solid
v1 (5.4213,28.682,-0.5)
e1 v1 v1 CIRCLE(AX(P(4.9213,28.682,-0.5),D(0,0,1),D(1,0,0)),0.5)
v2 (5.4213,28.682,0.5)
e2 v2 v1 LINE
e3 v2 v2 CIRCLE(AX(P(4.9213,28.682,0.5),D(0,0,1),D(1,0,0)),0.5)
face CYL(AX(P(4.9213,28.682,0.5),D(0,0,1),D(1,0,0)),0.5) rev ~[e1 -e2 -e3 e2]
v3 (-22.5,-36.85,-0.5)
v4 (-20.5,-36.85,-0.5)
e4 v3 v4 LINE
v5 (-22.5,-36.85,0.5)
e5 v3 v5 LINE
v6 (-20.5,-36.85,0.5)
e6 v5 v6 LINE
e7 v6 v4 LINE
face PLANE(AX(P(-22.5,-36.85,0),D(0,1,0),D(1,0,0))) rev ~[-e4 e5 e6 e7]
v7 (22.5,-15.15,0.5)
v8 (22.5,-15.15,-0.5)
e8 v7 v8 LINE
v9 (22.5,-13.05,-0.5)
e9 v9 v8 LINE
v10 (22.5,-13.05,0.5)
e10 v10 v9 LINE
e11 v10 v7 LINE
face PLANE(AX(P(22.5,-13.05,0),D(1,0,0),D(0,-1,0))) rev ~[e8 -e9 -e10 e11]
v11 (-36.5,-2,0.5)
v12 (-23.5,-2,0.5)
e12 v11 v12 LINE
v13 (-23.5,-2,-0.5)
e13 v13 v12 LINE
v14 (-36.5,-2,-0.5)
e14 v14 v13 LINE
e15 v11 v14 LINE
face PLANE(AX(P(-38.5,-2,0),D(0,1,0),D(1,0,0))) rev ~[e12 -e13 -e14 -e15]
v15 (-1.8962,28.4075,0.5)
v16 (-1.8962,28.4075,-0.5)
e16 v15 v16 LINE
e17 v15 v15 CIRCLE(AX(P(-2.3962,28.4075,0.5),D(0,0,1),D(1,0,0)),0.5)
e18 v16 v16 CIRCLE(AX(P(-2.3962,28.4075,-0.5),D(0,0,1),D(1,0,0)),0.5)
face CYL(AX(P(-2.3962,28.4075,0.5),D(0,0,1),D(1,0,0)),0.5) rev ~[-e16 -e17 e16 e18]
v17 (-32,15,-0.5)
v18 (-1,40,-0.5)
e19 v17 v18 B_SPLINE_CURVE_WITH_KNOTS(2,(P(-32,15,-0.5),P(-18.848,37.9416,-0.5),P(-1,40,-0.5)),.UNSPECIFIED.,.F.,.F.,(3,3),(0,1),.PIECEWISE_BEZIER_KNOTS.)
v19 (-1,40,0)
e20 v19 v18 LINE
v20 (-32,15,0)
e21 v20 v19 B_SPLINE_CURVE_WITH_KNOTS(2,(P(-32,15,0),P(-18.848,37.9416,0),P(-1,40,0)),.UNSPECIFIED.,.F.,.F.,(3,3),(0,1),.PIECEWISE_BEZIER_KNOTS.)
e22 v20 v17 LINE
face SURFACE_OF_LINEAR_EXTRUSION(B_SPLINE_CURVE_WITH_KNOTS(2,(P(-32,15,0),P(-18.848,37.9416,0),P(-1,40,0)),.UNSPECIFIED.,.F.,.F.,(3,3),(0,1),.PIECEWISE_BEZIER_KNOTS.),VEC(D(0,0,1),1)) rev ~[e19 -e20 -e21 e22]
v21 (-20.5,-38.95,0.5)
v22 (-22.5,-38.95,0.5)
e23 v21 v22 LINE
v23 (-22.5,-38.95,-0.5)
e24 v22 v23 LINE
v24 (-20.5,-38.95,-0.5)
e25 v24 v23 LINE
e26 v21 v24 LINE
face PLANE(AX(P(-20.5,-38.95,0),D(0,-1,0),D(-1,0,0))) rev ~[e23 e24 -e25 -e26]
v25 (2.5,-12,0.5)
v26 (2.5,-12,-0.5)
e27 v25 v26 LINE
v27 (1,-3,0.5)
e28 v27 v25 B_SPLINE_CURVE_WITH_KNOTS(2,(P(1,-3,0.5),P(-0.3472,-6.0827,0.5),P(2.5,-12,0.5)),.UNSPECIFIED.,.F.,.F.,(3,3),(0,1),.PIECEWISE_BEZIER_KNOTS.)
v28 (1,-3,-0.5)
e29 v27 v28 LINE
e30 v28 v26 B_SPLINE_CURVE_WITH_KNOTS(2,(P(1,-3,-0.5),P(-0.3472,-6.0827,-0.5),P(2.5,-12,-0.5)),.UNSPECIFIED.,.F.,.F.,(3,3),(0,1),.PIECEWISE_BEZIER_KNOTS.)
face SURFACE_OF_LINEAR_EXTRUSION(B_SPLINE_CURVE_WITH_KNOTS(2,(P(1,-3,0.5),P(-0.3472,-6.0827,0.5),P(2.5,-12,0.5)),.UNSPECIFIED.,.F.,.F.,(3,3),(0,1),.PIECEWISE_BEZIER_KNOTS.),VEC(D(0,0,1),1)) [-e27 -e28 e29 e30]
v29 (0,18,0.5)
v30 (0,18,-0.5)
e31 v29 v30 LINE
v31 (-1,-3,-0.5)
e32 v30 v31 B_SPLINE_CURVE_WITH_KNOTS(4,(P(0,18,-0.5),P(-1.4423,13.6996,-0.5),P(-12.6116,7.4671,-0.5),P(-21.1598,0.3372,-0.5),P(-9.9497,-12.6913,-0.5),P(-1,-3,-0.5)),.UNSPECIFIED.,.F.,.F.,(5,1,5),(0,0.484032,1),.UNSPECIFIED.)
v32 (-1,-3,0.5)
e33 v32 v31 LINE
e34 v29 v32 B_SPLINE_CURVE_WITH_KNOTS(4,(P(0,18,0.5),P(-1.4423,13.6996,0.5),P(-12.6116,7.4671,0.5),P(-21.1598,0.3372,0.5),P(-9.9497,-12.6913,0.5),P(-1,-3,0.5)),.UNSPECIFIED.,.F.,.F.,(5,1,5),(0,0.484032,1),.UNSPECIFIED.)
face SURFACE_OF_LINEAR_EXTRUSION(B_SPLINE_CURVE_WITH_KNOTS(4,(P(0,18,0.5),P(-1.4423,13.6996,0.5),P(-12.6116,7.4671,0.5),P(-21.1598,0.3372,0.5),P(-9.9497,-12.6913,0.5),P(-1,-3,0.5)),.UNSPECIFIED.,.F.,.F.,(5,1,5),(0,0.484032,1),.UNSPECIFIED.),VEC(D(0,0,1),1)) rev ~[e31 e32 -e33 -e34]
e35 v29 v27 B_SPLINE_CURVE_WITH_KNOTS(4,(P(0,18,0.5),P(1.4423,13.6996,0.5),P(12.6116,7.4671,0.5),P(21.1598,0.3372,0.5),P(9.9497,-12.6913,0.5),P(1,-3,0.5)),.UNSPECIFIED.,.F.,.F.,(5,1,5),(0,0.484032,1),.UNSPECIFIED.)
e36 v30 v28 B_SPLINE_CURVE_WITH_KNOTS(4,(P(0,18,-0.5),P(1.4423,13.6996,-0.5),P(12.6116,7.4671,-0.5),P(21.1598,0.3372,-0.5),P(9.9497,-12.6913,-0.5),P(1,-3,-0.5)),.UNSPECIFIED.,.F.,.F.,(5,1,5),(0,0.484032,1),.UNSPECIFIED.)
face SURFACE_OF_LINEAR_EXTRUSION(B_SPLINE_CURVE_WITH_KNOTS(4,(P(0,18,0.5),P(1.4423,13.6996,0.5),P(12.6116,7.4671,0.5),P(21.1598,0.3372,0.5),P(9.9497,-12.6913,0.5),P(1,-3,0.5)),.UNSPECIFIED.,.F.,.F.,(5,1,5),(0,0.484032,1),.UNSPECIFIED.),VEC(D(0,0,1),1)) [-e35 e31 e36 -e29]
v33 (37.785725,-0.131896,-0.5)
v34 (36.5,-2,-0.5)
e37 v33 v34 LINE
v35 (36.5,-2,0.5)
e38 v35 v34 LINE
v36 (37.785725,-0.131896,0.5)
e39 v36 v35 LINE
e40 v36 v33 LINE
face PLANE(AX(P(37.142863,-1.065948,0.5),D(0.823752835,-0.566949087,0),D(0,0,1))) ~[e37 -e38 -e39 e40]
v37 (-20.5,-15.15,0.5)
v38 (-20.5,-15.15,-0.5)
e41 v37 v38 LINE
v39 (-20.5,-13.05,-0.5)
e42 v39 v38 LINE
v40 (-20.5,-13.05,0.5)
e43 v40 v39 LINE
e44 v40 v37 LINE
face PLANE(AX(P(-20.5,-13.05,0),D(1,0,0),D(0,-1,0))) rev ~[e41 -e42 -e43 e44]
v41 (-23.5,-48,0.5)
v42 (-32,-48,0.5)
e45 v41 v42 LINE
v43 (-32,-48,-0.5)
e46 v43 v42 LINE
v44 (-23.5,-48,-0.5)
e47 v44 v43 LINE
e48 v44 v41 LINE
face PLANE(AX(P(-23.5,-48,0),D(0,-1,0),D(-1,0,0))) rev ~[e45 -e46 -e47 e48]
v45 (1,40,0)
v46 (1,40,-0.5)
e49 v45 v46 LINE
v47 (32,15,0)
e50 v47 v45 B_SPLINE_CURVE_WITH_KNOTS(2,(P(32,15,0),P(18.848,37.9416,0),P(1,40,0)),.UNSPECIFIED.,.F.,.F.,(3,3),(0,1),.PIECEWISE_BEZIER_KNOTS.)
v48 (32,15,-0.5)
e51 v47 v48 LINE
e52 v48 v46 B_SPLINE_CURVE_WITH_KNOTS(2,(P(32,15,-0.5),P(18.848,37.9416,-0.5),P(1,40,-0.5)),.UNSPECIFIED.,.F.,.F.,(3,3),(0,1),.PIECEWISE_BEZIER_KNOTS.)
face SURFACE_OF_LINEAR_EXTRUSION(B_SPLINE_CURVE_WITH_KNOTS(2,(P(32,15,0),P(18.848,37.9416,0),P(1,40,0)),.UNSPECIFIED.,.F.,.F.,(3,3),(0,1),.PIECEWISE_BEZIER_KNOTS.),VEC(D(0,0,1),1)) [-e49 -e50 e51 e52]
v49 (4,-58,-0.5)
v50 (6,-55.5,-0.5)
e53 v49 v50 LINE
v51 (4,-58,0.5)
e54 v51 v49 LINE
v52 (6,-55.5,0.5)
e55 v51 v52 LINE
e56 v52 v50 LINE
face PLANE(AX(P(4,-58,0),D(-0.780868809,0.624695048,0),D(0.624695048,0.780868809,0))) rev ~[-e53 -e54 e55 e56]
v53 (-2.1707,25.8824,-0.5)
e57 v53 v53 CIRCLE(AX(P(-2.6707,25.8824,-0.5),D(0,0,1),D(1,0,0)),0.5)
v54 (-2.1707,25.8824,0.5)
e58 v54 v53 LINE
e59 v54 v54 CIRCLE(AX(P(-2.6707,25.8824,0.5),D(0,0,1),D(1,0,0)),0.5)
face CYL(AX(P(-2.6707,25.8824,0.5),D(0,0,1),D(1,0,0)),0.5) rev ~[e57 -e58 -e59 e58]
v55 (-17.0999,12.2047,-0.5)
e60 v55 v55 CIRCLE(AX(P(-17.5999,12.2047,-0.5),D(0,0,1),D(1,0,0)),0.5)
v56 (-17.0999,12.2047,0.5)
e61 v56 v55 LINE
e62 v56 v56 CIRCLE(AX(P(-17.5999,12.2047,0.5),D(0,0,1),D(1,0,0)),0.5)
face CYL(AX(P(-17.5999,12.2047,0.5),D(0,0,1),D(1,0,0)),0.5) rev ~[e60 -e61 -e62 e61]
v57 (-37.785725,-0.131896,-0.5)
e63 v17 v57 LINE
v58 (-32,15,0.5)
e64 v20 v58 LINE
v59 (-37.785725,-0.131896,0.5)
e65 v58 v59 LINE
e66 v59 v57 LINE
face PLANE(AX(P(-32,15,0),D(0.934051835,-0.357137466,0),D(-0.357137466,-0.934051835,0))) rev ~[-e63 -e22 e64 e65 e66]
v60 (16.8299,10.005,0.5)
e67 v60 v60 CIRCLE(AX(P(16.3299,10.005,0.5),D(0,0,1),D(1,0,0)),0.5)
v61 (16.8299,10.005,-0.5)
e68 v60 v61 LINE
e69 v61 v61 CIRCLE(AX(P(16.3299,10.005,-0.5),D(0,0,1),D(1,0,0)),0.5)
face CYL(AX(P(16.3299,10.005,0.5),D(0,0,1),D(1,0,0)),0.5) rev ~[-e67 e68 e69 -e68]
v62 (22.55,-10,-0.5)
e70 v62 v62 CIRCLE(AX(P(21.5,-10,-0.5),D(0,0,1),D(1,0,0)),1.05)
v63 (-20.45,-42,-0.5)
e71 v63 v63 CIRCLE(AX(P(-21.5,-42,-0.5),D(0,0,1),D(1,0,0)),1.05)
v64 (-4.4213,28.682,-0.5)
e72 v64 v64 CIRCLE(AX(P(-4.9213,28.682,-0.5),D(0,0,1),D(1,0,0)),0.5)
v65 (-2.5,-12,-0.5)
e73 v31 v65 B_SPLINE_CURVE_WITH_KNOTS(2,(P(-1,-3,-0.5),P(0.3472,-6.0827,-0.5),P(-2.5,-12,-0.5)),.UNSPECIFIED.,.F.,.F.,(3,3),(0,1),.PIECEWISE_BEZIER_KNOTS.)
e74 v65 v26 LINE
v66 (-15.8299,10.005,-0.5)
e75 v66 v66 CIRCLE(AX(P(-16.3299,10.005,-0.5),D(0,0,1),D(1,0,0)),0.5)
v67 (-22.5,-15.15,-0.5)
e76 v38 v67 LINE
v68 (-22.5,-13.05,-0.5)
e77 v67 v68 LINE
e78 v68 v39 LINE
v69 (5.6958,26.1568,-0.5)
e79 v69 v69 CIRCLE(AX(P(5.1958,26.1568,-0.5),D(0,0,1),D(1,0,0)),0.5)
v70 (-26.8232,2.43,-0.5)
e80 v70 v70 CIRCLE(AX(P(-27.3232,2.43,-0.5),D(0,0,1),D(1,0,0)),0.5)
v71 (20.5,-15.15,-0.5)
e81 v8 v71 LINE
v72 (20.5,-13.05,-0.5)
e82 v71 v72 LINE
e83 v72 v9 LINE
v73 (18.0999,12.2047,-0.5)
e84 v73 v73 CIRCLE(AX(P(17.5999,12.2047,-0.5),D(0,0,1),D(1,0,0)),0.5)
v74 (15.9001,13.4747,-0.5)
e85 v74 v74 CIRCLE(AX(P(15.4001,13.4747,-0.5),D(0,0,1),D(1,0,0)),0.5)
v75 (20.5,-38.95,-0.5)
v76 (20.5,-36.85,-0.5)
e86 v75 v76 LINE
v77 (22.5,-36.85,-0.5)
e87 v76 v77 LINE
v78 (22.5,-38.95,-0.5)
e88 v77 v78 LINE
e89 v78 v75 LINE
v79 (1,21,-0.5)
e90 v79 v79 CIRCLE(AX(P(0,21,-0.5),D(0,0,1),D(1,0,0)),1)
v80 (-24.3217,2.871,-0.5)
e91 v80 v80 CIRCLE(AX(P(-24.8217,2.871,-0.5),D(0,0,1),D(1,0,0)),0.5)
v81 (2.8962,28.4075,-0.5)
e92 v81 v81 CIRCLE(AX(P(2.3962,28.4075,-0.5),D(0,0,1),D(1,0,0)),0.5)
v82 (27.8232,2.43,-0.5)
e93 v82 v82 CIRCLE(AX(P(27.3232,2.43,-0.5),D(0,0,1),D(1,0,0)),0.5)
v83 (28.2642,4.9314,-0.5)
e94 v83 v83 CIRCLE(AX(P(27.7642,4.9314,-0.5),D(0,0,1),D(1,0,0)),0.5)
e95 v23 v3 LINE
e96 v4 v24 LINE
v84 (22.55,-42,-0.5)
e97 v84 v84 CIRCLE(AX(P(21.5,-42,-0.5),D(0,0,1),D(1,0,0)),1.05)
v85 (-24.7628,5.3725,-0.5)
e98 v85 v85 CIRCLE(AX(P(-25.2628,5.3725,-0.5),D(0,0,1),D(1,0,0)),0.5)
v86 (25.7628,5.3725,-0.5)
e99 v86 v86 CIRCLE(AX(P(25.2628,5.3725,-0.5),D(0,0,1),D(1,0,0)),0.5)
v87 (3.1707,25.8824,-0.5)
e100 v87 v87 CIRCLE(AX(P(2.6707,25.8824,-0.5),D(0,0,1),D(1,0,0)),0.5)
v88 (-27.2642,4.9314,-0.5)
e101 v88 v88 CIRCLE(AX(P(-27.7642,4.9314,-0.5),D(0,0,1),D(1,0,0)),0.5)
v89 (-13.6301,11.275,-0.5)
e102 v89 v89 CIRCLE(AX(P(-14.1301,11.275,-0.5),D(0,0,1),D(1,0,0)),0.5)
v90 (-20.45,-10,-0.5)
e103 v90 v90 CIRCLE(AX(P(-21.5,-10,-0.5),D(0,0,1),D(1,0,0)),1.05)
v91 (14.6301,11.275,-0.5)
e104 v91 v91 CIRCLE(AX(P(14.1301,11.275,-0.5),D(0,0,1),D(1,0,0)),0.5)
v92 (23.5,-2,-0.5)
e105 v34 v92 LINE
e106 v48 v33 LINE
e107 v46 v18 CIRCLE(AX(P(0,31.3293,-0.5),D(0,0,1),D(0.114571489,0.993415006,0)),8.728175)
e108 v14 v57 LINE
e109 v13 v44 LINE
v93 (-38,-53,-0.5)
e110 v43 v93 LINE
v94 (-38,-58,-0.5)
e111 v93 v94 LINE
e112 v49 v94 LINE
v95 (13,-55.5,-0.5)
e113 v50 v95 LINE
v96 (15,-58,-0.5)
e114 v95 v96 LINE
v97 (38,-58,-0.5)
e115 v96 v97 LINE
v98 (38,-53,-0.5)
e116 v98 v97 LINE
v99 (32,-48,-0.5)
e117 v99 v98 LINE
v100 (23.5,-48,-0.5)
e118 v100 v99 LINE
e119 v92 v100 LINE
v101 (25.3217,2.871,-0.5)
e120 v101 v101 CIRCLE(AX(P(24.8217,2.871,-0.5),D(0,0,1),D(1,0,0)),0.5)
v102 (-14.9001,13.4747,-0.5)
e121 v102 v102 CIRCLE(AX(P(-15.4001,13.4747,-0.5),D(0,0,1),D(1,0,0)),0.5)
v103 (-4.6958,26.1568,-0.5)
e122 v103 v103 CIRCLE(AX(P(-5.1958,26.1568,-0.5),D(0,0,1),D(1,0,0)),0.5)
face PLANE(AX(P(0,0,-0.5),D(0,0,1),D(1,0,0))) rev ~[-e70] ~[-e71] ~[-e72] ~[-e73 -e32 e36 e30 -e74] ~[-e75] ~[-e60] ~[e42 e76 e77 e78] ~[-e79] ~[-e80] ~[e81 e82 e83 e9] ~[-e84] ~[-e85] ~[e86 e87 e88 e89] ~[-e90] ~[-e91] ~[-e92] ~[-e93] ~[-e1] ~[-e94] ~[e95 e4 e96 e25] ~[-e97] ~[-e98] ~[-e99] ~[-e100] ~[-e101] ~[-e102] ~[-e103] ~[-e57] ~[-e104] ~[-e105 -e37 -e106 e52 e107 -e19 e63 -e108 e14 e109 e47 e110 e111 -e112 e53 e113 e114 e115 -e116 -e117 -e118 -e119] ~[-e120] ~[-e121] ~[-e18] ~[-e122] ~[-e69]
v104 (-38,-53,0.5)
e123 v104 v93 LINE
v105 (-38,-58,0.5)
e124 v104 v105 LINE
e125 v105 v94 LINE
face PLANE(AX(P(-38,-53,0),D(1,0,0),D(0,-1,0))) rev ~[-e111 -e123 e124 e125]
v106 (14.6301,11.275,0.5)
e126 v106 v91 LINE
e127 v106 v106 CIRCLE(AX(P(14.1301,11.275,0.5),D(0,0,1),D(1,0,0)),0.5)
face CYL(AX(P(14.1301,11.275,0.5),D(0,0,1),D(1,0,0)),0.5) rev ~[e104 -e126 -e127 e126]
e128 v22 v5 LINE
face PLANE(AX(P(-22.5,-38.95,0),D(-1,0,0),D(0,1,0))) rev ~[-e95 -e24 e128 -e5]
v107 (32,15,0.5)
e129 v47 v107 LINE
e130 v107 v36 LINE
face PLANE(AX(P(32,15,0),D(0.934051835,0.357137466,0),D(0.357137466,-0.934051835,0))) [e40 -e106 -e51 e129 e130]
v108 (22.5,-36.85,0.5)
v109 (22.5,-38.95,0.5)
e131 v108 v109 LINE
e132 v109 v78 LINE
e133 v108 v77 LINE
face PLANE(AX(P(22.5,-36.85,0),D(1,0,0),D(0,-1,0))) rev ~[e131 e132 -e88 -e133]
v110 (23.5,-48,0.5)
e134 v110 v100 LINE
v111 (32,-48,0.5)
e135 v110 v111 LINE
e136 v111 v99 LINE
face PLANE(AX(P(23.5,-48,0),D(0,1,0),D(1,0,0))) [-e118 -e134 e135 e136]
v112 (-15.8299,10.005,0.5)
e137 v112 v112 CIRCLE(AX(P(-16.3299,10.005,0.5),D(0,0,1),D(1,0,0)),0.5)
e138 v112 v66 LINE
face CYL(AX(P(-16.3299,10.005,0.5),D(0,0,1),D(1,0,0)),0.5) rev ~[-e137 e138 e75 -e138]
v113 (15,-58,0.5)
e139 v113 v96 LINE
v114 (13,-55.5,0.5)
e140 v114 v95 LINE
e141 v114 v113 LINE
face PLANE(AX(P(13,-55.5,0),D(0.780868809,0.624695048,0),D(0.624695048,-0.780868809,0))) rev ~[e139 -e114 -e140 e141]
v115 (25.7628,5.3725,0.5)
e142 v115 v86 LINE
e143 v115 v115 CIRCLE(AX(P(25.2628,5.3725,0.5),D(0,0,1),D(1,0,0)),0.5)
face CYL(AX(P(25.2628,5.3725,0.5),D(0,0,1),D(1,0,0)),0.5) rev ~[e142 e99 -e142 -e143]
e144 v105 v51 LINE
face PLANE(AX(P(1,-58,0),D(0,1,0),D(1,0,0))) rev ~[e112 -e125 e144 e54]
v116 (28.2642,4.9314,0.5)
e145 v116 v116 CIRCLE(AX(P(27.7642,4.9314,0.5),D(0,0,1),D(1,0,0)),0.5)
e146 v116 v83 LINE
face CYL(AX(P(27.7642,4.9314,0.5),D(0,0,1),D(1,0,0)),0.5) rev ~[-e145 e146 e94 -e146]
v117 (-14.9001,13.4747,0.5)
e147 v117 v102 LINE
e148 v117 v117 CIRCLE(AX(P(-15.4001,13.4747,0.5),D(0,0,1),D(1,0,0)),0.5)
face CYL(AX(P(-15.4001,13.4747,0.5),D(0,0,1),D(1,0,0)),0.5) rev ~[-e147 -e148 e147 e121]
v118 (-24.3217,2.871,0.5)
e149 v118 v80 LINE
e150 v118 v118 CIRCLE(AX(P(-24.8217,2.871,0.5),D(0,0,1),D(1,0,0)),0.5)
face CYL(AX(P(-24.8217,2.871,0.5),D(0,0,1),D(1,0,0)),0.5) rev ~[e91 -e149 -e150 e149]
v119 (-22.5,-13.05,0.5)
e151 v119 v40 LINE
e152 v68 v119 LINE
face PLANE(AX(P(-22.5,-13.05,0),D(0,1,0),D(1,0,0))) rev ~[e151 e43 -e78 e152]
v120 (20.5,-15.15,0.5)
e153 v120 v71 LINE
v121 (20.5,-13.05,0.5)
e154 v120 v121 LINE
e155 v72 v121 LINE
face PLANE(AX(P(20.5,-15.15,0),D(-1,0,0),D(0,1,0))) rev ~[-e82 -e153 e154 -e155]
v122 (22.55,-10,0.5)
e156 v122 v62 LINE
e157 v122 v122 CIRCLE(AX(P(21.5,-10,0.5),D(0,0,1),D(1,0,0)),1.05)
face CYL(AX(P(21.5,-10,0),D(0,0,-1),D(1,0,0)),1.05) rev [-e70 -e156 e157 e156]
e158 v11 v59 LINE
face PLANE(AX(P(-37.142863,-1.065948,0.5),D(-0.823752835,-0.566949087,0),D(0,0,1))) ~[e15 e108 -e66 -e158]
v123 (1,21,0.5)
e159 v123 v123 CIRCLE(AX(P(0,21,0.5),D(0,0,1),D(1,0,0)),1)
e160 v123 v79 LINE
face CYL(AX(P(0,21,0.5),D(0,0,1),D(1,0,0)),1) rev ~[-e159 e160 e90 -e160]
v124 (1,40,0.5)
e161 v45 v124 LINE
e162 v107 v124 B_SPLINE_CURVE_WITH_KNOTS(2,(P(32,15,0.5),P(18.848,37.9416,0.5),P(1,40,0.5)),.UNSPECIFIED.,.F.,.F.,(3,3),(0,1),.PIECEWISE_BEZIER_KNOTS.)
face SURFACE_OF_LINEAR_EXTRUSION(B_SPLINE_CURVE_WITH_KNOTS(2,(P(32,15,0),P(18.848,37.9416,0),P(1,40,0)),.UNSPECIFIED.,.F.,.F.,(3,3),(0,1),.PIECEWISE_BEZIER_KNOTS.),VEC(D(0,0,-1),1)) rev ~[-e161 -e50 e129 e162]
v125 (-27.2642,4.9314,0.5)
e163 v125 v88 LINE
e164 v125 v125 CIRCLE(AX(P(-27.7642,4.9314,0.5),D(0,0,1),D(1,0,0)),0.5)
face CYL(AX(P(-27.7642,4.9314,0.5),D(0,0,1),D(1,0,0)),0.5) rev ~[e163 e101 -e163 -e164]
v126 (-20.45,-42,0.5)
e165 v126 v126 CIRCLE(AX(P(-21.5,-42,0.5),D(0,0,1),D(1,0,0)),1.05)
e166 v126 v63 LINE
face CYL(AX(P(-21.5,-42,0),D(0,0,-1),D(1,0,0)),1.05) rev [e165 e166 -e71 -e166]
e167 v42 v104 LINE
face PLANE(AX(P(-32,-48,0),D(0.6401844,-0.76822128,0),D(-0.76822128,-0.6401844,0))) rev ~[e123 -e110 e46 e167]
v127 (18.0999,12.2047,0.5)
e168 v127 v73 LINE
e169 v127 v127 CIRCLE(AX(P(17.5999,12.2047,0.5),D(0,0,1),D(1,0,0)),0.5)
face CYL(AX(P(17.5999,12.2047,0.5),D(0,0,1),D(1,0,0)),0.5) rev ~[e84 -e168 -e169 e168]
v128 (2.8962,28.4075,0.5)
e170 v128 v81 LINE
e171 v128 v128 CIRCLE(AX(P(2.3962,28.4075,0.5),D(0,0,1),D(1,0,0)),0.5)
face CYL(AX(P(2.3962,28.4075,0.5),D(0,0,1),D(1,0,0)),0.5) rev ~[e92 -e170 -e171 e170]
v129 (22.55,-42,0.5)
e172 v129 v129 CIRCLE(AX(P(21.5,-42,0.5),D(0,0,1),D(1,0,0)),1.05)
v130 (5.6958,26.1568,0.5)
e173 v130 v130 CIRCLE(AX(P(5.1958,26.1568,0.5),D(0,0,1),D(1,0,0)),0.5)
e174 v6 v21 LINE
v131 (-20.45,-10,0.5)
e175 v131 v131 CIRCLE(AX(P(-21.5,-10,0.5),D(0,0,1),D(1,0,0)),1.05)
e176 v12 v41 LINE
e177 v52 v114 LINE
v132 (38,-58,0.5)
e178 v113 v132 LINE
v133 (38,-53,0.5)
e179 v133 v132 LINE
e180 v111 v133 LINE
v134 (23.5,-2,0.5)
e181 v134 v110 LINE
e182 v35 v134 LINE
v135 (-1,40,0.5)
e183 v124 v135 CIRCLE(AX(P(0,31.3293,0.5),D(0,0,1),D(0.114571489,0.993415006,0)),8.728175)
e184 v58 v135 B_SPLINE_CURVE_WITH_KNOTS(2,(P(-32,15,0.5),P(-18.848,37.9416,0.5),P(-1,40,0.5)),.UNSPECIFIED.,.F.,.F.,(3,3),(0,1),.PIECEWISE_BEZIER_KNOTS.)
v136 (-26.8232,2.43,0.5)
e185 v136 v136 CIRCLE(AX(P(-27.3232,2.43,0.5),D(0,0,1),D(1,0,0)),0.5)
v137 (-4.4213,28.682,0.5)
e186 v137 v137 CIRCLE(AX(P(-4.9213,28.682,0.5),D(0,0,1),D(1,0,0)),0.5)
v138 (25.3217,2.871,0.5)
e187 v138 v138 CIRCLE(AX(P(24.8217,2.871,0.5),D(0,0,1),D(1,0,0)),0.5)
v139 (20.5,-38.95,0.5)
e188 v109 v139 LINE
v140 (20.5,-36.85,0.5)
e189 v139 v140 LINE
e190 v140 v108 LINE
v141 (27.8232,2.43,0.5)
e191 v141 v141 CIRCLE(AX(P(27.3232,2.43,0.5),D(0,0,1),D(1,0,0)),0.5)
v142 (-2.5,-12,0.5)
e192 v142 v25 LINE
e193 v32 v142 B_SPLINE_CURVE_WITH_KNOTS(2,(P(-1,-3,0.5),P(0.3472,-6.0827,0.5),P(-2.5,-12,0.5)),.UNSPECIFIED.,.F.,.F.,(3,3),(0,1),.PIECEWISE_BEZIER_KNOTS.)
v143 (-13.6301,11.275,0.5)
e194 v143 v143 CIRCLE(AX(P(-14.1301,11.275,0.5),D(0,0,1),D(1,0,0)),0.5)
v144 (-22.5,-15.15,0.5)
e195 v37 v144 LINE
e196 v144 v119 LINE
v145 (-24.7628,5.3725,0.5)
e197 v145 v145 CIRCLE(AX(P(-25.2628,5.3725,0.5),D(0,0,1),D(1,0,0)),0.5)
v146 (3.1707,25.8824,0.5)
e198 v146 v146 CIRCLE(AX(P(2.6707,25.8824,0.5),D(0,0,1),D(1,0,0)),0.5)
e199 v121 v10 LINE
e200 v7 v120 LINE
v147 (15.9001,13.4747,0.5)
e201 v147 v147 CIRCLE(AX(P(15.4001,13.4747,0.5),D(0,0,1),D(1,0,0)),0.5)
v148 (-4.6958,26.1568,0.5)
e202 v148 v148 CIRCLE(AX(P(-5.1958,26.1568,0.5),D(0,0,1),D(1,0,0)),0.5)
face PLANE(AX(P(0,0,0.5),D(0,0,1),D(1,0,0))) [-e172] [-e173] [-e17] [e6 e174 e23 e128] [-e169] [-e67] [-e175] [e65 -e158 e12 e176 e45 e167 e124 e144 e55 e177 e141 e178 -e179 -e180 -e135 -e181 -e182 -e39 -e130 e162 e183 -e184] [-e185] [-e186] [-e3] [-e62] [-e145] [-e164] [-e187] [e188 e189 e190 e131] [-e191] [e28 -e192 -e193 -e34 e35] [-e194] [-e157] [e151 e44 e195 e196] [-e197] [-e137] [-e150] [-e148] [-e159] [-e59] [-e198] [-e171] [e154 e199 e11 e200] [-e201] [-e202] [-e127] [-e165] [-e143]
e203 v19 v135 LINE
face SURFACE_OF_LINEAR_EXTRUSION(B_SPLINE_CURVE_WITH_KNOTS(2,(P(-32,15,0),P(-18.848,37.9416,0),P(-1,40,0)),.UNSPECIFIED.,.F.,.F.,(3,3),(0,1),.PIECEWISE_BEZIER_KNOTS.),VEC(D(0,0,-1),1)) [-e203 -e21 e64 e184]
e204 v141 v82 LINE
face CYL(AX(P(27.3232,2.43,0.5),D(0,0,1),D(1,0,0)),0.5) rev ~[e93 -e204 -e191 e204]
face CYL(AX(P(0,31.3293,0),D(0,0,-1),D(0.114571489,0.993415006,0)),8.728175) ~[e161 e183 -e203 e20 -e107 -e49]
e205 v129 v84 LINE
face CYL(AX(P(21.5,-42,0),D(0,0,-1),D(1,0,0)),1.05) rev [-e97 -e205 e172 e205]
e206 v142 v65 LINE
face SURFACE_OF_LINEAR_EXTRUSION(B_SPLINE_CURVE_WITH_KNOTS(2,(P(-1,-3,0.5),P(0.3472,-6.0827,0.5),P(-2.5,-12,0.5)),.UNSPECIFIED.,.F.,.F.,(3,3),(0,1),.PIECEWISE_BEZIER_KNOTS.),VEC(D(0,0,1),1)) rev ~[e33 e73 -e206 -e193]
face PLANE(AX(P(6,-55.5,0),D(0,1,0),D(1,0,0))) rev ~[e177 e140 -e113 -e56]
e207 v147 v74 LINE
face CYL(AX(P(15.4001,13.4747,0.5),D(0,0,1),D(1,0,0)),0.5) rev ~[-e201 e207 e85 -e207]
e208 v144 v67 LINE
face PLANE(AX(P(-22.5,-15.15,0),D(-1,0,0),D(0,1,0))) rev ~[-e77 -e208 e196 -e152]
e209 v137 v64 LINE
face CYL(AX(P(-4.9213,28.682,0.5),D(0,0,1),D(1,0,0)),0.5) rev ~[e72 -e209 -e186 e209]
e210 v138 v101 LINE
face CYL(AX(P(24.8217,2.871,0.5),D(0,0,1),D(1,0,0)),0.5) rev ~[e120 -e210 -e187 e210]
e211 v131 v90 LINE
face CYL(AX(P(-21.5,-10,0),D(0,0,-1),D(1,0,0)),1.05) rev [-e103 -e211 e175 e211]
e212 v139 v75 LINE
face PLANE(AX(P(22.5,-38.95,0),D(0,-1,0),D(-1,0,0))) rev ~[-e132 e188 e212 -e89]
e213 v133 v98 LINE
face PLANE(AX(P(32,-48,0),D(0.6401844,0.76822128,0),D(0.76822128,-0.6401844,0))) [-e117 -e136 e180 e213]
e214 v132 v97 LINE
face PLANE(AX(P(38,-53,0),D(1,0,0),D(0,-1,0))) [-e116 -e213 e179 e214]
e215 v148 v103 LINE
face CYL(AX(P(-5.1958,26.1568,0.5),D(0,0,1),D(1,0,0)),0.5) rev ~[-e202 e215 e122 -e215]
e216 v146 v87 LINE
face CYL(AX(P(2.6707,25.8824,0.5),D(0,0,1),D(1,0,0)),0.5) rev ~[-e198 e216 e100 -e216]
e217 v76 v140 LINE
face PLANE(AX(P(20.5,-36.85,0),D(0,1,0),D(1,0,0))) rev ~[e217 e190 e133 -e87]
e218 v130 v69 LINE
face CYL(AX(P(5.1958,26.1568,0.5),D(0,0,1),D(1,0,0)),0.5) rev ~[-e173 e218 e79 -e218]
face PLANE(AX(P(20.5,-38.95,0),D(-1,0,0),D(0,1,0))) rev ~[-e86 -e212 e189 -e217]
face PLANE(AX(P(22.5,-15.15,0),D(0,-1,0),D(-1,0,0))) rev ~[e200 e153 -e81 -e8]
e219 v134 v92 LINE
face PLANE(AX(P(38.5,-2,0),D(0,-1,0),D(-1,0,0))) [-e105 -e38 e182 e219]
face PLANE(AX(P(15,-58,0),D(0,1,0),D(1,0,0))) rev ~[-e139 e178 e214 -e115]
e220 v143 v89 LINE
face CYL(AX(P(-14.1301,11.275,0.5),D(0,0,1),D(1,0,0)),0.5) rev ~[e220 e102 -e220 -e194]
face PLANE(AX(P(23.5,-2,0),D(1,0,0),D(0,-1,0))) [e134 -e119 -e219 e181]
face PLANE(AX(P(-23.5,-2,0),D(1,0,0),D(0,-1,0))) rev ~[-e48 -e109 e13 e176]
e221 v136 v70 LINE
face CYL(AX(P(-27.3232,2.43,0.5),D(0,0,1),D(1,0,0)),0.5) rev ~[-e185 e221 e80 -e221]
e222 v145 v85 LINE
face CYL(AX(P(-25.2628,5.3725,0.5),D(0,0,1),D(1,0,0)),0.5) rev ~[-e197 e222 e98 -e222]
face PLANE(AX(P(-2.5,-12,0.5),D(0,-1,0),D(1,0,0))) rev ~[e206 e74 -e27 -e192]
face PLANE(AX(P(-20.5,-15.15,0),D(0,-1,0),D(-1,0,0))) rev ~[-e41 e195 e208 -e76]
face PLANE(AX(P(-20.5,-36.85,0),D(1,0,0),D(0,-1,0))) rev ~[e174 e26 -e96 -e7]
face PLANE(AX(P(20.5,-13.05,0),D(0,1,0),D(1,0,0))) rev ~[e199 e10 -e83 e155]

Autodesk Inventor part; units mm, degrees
ref_plane "YZ Plane" through (0, 0, 0) normal (1, 0, 0) x (0, 1, 0)
sketch "shitaita" plane through (0, 0, 0) normal (0, 0, 1) x (1, 0, 0)
  line L0 (-23.5, -2) -> (-23.5, -48)
  line L1 (23.5, -2) -> (23.5, -48)
  line L2 (-23.5, -48) -> (-32, -48)
  line L3 (-32, -48) -> (-38, -53)
  line L4 (-38, -53) -> (-38, -58)
  spline S0 degree 2 poles (-32, 15) (-18.848, 37.9416) (-1, 40) knots 0 0 0 1 1 1
  spline S1 degree 2 poles (32, 15) (18.848, 37.9416) (1, 40) knots 0 0 0 1 1 1
  line L5 (23.5, -48) -> (32, -48)
  line L6 (32, -48) -> (38, -53)
  line L7 (38, -53) -> (38, -58)
  line L8 (-1, -58) -> (0, -58)
  line L9 (1, -58) -> (0, -58)
  circle A0 centre (-21.5, -10) radius 1.05
  circle A1 centre (-21.5, -42) radius 1.05
  circle A2 centre (21.5, -10) radius 1.05
  circle A3 centre (21.5, -42) radius 1.05
  line L10 (-19.6, -21) -> (-2.4, -21) construction
  line L11 (-2.4, -21) -> (-2.4, -31) construction
  line L12 (-2.4, -31) -> (-19.6, -31) construction
  line L13 (-19.6, -31) -> (-19.6, -21) construction
  line L14 (2.4, -21) -> (19.6, -21) construction
  line L15 (19.6, -21) -> (19.6, -31) construction
  line L16 (19.6, -31) -> (2.4, -31) construction
  line L17 (2.4, -31) -> (2.4, -21) construction
  line L18 (-22.5, -13.05) -> (-20.5, -13.05)
  line L19 (-20.5, -13.05) -> (-20.5, -15.15)
  line L20 (-20.5, -15.15) -> (-22.5, -15.15)
  line L21 (-22.5, -15.15) -> (-22.5, -13.05)
  line L22 (20.5, -13.05) -> (22.5, -13.05)
  line L23 (22.5, -13.05) -> (22.5, -15.15)
  line L24 (22.5, -15.15) -> (20.5, -15.15)
  line L25 (20.5, -15.15) -> (20.5, -13.05)
  line L26 (20.5, -36.85) -> (22.5, -36.85)
  line L27 (22.5, -36.85) -> (22.5, -38.95)
  line L28 (22.5, -38.95) -> (20.5, -38.95)
  line L29 (20.5, -38.95) -> (20.5, -36.85)
  line L30 (-22.5, -36.85) -> (-20.5, -36.85)
  line L31 (-20.5, -36.85) -> (-20.5, -38.95)
  line L32 (-20.5, -38.95) -> (-22.5, -38.95)
  line L33 (-22.5, -38.95) -> (-22.5, -36.85)
  line L34 (1, -58) -> (4, -58)
  line L35 (4, -58) -> (6, -55.5)
  line L36 (6, -55.5) -> (13, -55.5)
  line L37 (13, -55.5) -> (15, -58)
  line L38 (15, -58) -> (38, -58)
  line L39 (-1, -58) -> (-15, -58)
  line L40 (-38, -58) -> (-24, -58)
  line L41 (-24, -58) -> (-22, -58)
  line L42 (-22, -58) -> (-17, -58)
  line L43 (-17, -58) -> (-15, -58)
  arc A4 (1, 40) -> (-1, 40) centre (0, 31.3293) ccw
  line L44 (-32, 15) -> (-38.5, -2)
  line L45 (-38.5, -2) -> (-23.5, -2)
  line L46 (32, 15) -> (38.5, -2)
  line L47 (38.5, -2) -> (23.5, -2)
  point P0 (0, 0)
  point P1 (-16, 34)
  point P2 (16, 34)
  dimension "d35" = 46
  dimension "d37" = 23.5
  dimension "d38" = 23.5
  dimension "d51" = 32
  dimension "d53" = 32
  dimension "d59" = 38
  dimension "d61" = 5
  dimension "d65" = 6
  dimension "d66" = 16
  dimension "d67" = 15
  dimension "d68" = 19
  dimension "d69" = 6
  dimension "d70" = 16
  dimension "d71" = 15
  dimension "d72" = 6
  dimension "d73" = 19
  dimension "d81" = 6
  dimension "d82" = 38
  dimension "d83" = 5
  dimension "d84" = 48
  dimension "d85" = 37
  dimension "d86" = 37
  dimension "d89" = 5
  dimension "d90" = 1
  dimension "d113" = 2.1
  dimension "d114" = 2.1
  dimension "d115" = 2.1
  dimension "d116" = 2.1
  dimension "d117" = 21.5
  dimension "d118" = 21.5
  dimension "d119" = 21.5
  dimension "d120" = 21.5
  dimension "d121" = 32
  dimension "d122" = 32
  dimension "d127" = 10
  dimension "d128" = 17.2
  dimension "d129" = 17.2
  dimension "d130" = 3.9
  dimension "d131" = 3.9
  dimension "d132" = 11
  dimension "d135" = 1
  dimension "d136" = 2
  dimension "d137" = 2
  dimension "d138" = 2.1
  dimension "d139" = 1
  dimension "d140" = 2
  dimension "d141" = 2
  dimension "d142" = 2.1
  dimension "d143" = 1
  dimension "d144" = 2
  dimension "d145" = 2
  dimension "d146" = 2.1
  dimension "d147" = 2
  dimension "d148" = 2.1
  dimension "d216" = 2
  dimension "d220" = 2.5
  dimension "d221" = 14
  dimension "d224" = 2
  dimension "d225" = 5
  dimension "d226" = 2
  dimension "d227" = 14
  dimension "d228" = 0
  dimension "d266" = 15
  dimension "d267" = 15
sketch "肉抜き" plane through (0, 0, 0) normal (0, 0, 1) x (1, 0, 0)
  line L0 (-18, 27.0037) -> (-7, 23)
  line L1 (-7, 23) -> (-3, 23)
  line L2 (-3, 3) -> (-23.604, 3.005)
  line L3 (-23.604, 3.005) -> (-28, 15.0921)
  line L4 (-28, 15.0921) -> (-18, 27.0037)
  line L5 (3, 3) -> (23.585, 2.9479)
  line L6 (23.585, 2.9479) -> (28, 14.9831)
  line L7 (28, 14.9831) -> (18, 26.9621)
  line L8 (18, 26.9621) -> (7, 22.9899)
  line L9 (7, 22.9899) -> (3, 23.0001)
  line L10 (-3, 23) -> (-3, 3)
  line L11 (3, 23.0001) -> (3, 3)
  point P0 (0, 0)
  dimension "d91" = 20
  dimension "d92" = 3
  dimension "d93" = 24
  dimension "d95" = 15
  dimension "d96" = 3
  dimension "d97" = 160
  dimension "d98" = 120
  dimension "d99" = 110
  dimension "d100" = 3
  dimension "d101" = 15
  dimension "d102" = 3
  dimension "d103" = 160
  dimension "d104" = 24
  dimension "d105" = 20
  dimension "d107" = 120
  dimension "d108" = 110
  dimension "d159" = 6
  dimension "d171" = 25
  dimension "d172" = 25
  dimension "d173" = 11
  dimension "d174" = 11
ref_plane "作業平面1" through (0, 0, 0.5) normal (0, 0, 1) x (1, 0, 0)
sketch "スペード" plane through (0, 0, 0.5) normal (0, 0, 1) x (1, 0, 0)
  spline S0 degree 4 poles (0, 18) (-1.4423, 13.6996) (-12.6116, 7.4671) (-21.1598, 0.3372) (-9.9497, -12.6913) (-1, -3) knots 0 0 0 0 0 0.484032 1 1 1 1 1
  spline S1 degree 4 poles (0, 18) (1.4423, 13.6996) (12.6116, 7.4671) (21.1598, 0.3372) (9.9497, -12.6913) (1, -3) knots 0 0 0 0 0 0.484032 1 1 1 1 1
  spline S2 degree 2 poles (1, -3) (-0.3472, -6.0827) (2.5, -12) knots 0 0 0 1 1 1
  spline S3 degree 2 poles (-1, -3) (0.3472, -6.0827) (-2.5, -12) knots 0 0 0 1 1 1
  line L0 (-2.5, -12) -> (2.5, -12)
  circle A0 centre (0, 21) radius 1
  point P0 (0, 0)
  point P1 (-5, 12)
  point P2 (-12, 6)
  point P3 (-15, 0)
  point P4 (5, 12)
  point P5 (12, 6)
  point P6 (15, 0)
  point P7 (-13, -6)
  point P8 (13, -6)
  point P9 (0.6, -6)
  point P10 (-0.6, -6)
  dimension "d182" = 12
  dimension "d183" = 12
  dimension "d184" = 15
  dimension "d185" = 15
  dimension "d186" = 13
  dimension "d187" = 13
  dimension "d188" = 21
  dimension "d189" = 21
  dimension "d191" = 0
  dimension "d193" = 1
  dimension "d194" = 1
  dimension "d195" = 6
  dimension "d196" = 6
  dimension "d197" = 6
  dimension "d198" = 6
  dimension "d199" = 6
  dimension "d200" = 6
  dimension "d202" = 18
  dimension "d203" = 0.6
  dimension "d204" = 2.5
  dimension "d206" = 0.6
  dimension "d207" = 2.5
  dimension "d208" = 9
  dimension "d209" = 3
  dimension "d210" = 3
  dimension "d252" = 2
  dimension "d253" = 3
  dimension "d254" = 0
  dimension "d368" = 5
  dimension "d369" = 5
  dimension "d370" = 6
  dimension "d371" = 6
ref_plane "作業平面3" through (0, 0, 0.5) normal (0, 0, 1) x (1, 0, 0)
extrude "押し出し11" add sketch "shitaita" along normal mid plane 1
extrude "押し出し12" cut sketch "スペード" against normal blind 1
sketch "スケッチ20" plane through (0, 0, 0.5) normal (0, 0, 1) x (1, 0, 0)
  line L0 (-90, 261) -> (90, 261) construction
  line L1 (90, 261) -> (90, -99) construction
  line L2 (90, -99) -> (-90, -99) construction
  line L3 (-90, -99) -> (-90, 261) construction
  circle A0 centre (0, 21) radius 1 construction
  line L4 (-2.5, -12) -> (2.5, -12) construction
  line L5 (-20.5, -38.95) -> (-20.5, -36.85) construction
  line L6 (-20.5, -36.85) -> (-22.5, -36.85) construction
  line L7 (-22.5, -36.85) -> (-22.5, -38.95) construction
  line L8 (-22.5, -38.95) -> (-20.5, -38.95) construction
  line L9 (22.5, -38.95) -> (22.5, -36.85) construction
  line L10 (22.5, -36.85) -> (20.5, -36.85) construction
  line L11 (20.5, -36.85) -> (20.5, -38.95) construction
  line L12 (20.5, -38.95) -> (22.5, -38.95) construction
  line L13 (22.5, -15.15) -> (22.5, -13.05) construction
  line L14 (22.5, -13.05) -> (20.5, -13.05) construction
  line L15 (20.5, -13.05) -> (20.5, -15.15) construction
  line L16 (20.5, -15.15) -> (22.5, -15.15) construction
  line L17 (-20.5, -15.15) -> (-20.5, -13.05) construction
  line L18 (-20.5, -13.05) -> (-22.5, -13.05) construction
  line L19 (-22.5, -13.05) -> (-22.5, -15.15) construction
  line L20 (-22.5, -15.15) -> (-20.5, -15.15) construction
  circle A1 centre (21.5, -42) radius 1.05 construction
  circle A2 centre (21.5, -10) radius 1.05 construction
  circle A3 centre (-21.5, -42) radius 1.05 construction
  circle A4 centre (-21.5, -10) radius 1.05 construction
  line L21 (-23.5, -2) -> (-38.5, -2) construction
  line L22 (-38.5, -2) -> (-32, 15) construction
  arc A5 (1, 40) -> (-1, 40) centre (0, 31.3293) ccw construction
  line L23 (32, 15) -> (38.5, -2) construction
  line L24 (38.5, -2) -> (23.5, -2) construction
  line L25 (23.5, -2) -> (23.5, -48) construction
  line L26 (23.5, -48) -> (32, -48) construction
  line L27 (32, -48) -> (38, -53) construction
  line L28 (38, -53) -> (38, -58) construction
  line L29 (38, -58) -> (15, -58) construction
  line L30 (15, -58) -> (13, -55.5) construction
  line L31 (13, -55.5) -> (6, -55.5) construction
  line L32 (6, -55.5) -> (4, -58) construction
  line L33 (4, -58) -> (-38, -58) construction
  line L34 (-38, -58) -> (-38, -53) construction
  line L35 (-38, -53) -> (-32, -48) construction
  line L36 (-32, -48) -> (-23.5, -48) construction
  line L37 (-23.5, -48) -> (-23.5, -2) construction
  line L38 (-130.0073, -9) -> (167.0033, -9) construction
  line L39 (0, 267.6396) -> (0, -183.9131) construction
  line L40 (-132.0311, 81) -> (131.679, 81) construction
  line L41 (-84, -93) -> (84, -93) construction
  line L42 (84, -93) -> (84, 75) construction
  line L43 (84, 75) -> (-84, 75) construction
  line L44 (-84, 75) -> (-84, -93) construction
  line L45 (-84, -93) -> (84, 75) construction
  line L46 (-130.0073, 171) -> (131.679, 171) construction
  line L47 (-84, 87) -> (84, 87) construction
  line L48 (84, 87) -> (84, 255) construction
  line L49 (84, 255) -> (-84, 255) construction
  line L50 (-84, 255) -> (-84, 87) construction
  line L51 (-84, 87) -> (84, 255) construction
  line L52 (84, 87) -> (-84, 255) construction
  line L53 (15.6319, 15) -> (45.6319, 15) construction
  line L54 (28.25, 52.9329) -> (28.25, -6.076) construction
  line L55 (28.25, 15) -> (26.5135, 5.1519) construction
  line L56 (26.5135, 5.1519) -> (27.7642, 4.9314) construction
  circle A6 centre (27.7642, 4.9314) radius 0.5
  circle A7 centre (25.2628, 5.3725) radius 0.5
  line L57 (26.5135, 5.1519) -> (25.2628, 5.3725) construction
  line L58 (17.4646, 21.5) -> (33.3516, 21.5) construction
  line L59 (28.25, 15) -> (30.7613, 14.5572) construction
  line L60 (21.5, 32.1962) -> (21.5, 20) construction
  line L61 (84, 87) -> (84, 75) construction
  line L62 (21.5, 21.5) -> (16.5, 12.8397) construction
  line L63 (16.5, 12.8397) -> (17.5999, 12.2047) construction
  circle A8 centre (17.5999, 12.2047) radius 0.5
  line L64 (21.5, 21.5) -> (23.7084, 20.225) construction
  line L65 (16.5, 12.8397) -> (15.4001, 13.4747) construction
  circle A9 centre (15.4001, 13.4747) radius 0.5
  line L66 (21.5, 21.5) -> (19.2916, 22.775) construction
  line L67 (13.8265, 28.5) -> (22.8265, 28.5) construction
  line L68 (15, 34.2289) -> (15, 25.2289) construction
  line L69 (15, 28.5) -> (5.0586, 27.4194) construction
  line L70 (5.0586, 27.4194) -> (5.3341, 24.8843) construction
  circle A10 centre (5.1958, 26.1568) radius 0.5
  line L71 (15, 28.5) -> (15.2756, 25.9649) construction
  line L72 (15.2756, 25.9649) -> (5.3341, 24.8843) construction
  line L73 (5.0586, 27.4194) -> (4.783, 29.9545) construction
  circle A11 centre (4.9213, 28.682) radius 0.5
  line L74 (15, 28.5) -> (14.7244, 31.0351) construction
  line L75 (14.7244, 31.0351) -> (4.783, 29.9545) construction
  line L76 (15, 28.5) -> (84, 36) construction
  line L77 (-84, 87) -> (-84, 75) construction
  circle A12 centre (2.3962, 28.4075) radius 0.5
  circle A13 centre (2.6707, 25.8824) radius 0.5
  circle A14 centre (14.1301, 11.275) radius 0.5
  line L78 (4.9213, 28.682) -> (2.3962, 28.4075) construction
  line L79 (5.1958, 26.1568) -> (2.6707, 25.8824) construction
  line L80 (15.4001, 13.4747) -> (14.1301, 11.275) construction
  circle A15 centre (16.3299, 10.005) radius 0.5
  line L81 (17.5999, 12.2047) -> (16.3299, 10.005) construction
  circle A16 centre (27.3232, 2.43) radius 0.5
  circle A17 centre (24.8217, 2.871) radius 0.5
  line L82 (27.7642, 4.9314) -> (27.3232, 2.43) construction
  line L83 (25.2628, 5.3725) -> (24.8217, 2.871) construction
  line L84 (-28.25, 15) -> (-26.5135, 5.1519) construction
  line L85 (-26.5135, 5.1519) -> (-27.7642, 4.9314) construction
  circle A18 centre (-27.7642, 4.9314) radius 0.5
  circle A19 centre (-25.2628, 5.3725) radius 0.5
  line L86 (-26.5135, 5.1519) -> (-25.2628, 5.3725) construction
  line L87 (-28.25, 15) -> (-30.7613, 14.5572) construction
  line L88 (-21.5, 21.5) -> (-16.5, 12.8397) construction
  line L89 (-16.5, 12.8397) -> (-17.5999, 12.2047) construction
  circle A20 centre (-17.5999, 12.2047) radius 0.5
  circle A21 centre (-15.4001, 13.4747) radius 0.5
  line L90 (-16.5, 12.8397) -> (-15.4001, 13.4747) construction
  line L91 (-15, 28.5) -> (-5.0586, 27.4194) construction
  line L92 (-5.0586, 27.4194) -> (-5.3341, 24.8843) construction
  circle A22 centre (-5.1958, 26.1568) radius 0.5
  line L93 (-15, 28.5) -> (-15.2756, 25.9649) construction
  line L94 (-15.2756, 25.9649) -> (-5.3341, 24.8843) construction
  circle A23 centre (-4.9213, 28.682) radius 0.5
  line L95 (-14.7244, 31.0351) -> (-4.783, 29.9545) construction
  line L96 (-15, 28.5) -> (-14.7244, 31.0351) construction
  line L97 (-5.0586, 27.4194) -> (-4.783, 29.9545) construction
  line L98 (-15, 28.5) -> (-84, 36) construction
  circle A24 centre (-2.3962, 28.4075) radius 0.5
  circle A25 centre (-2.6707, 25.8824) radius 0.5
  circle A26 centre (-14.1301, 11.275) radius 0.5
  line L99 (-4.9213, 28.682) -> (-2.3962, 28.4075) construction
  line L100 (-5.1958, 26.1568) -> (-2.6707, 25.8824) construction
  line L101 (-15.4001, 13.4747) -> (-14.1301, 11.275) construction
  circle A27 centre (-16.3299, 10.005) radius 0.5
  line L102 (-17.5999, 12.2047) -> (-16.3299, 10.005) construction
  circle A28 centre (-27.3232, 2.43) radius 0.5
  circle A29 centre (-24.8217, 2.871) radius 0.5
  line L103 (-27.7642, 4.9314) -> (-27.3232, 2.43) construction
  line L104 (-25.2628, 5.3725) -> (-24.8217, 2.871) construction
  line L105 (-21.5, 21.5) -> (-23.7084, 20.225) construction
  line L106 (28.25, 15) -> (71.1823, 258.4812) construction
  line L107 (-28.25, 15) -> (-71.1823, 258.4812) construction
  line L108 (21.5, 21.5) -> (99.7375, 157.0113) construction
  line L109 (-21.5, 21.5) -> (-99.7375, 157.0113) construction
  point P0 (0, 0)
  point P1 (-1, -3)
  point P2 (1, -3)
  point P3 (0, 18)
  point P4 (0, 261)
  point P5 (0, -9)
  point P6 (0, 171)
  point P7 (84, 171)
  dimension "d296" = 17
  dimension "d297" = 4.75
  dimension "d301" = 10
  dimension "d302" = 1.27
  dimension "d303" = 1
  dimension "d305" = 2.55
  dimension "d306" = 23.5
  dimension "d307" = 21.5
  dimension "d308" = 10
  dimension "d309" = 1.27
  dimension "d310" = 1
  dimension "d311" = 2.55
  dimension "d314" = 15
  dimension "d315" = 28.5
  dimension "d322" = 10
  dimension "d323" = 2.55
  dimension "d324" = 1
  dimension "d325" = 1.27
  dimension "d326" = 2.55
  dimension "d327" = 45
  dimension "d332" = 1
  dimension "d333" = 1
  dimension "d334" = 1
  dimension "d336" = 2.54
  dimension "d337" = 2.54
  dimension "d338" = 2.54
  dimension "d339" = 1
  dimension "d340" = 2.54
  dimension "d341" = 1
  dimension "d342" = 1
  dimension "d343" = 2.54
  dimension "d344" = 2.54
  dimension "d366" = 10
  dimension "d367" = 30
extrude "押し出し16" cut sketch "スケッチ20" against normal blind 1
chamfer "面取り1" distance 2 angle 45 2 edges at (38.5, -2, 0) (-38.5, -2, 0)
properties part number "shitaita_new"
